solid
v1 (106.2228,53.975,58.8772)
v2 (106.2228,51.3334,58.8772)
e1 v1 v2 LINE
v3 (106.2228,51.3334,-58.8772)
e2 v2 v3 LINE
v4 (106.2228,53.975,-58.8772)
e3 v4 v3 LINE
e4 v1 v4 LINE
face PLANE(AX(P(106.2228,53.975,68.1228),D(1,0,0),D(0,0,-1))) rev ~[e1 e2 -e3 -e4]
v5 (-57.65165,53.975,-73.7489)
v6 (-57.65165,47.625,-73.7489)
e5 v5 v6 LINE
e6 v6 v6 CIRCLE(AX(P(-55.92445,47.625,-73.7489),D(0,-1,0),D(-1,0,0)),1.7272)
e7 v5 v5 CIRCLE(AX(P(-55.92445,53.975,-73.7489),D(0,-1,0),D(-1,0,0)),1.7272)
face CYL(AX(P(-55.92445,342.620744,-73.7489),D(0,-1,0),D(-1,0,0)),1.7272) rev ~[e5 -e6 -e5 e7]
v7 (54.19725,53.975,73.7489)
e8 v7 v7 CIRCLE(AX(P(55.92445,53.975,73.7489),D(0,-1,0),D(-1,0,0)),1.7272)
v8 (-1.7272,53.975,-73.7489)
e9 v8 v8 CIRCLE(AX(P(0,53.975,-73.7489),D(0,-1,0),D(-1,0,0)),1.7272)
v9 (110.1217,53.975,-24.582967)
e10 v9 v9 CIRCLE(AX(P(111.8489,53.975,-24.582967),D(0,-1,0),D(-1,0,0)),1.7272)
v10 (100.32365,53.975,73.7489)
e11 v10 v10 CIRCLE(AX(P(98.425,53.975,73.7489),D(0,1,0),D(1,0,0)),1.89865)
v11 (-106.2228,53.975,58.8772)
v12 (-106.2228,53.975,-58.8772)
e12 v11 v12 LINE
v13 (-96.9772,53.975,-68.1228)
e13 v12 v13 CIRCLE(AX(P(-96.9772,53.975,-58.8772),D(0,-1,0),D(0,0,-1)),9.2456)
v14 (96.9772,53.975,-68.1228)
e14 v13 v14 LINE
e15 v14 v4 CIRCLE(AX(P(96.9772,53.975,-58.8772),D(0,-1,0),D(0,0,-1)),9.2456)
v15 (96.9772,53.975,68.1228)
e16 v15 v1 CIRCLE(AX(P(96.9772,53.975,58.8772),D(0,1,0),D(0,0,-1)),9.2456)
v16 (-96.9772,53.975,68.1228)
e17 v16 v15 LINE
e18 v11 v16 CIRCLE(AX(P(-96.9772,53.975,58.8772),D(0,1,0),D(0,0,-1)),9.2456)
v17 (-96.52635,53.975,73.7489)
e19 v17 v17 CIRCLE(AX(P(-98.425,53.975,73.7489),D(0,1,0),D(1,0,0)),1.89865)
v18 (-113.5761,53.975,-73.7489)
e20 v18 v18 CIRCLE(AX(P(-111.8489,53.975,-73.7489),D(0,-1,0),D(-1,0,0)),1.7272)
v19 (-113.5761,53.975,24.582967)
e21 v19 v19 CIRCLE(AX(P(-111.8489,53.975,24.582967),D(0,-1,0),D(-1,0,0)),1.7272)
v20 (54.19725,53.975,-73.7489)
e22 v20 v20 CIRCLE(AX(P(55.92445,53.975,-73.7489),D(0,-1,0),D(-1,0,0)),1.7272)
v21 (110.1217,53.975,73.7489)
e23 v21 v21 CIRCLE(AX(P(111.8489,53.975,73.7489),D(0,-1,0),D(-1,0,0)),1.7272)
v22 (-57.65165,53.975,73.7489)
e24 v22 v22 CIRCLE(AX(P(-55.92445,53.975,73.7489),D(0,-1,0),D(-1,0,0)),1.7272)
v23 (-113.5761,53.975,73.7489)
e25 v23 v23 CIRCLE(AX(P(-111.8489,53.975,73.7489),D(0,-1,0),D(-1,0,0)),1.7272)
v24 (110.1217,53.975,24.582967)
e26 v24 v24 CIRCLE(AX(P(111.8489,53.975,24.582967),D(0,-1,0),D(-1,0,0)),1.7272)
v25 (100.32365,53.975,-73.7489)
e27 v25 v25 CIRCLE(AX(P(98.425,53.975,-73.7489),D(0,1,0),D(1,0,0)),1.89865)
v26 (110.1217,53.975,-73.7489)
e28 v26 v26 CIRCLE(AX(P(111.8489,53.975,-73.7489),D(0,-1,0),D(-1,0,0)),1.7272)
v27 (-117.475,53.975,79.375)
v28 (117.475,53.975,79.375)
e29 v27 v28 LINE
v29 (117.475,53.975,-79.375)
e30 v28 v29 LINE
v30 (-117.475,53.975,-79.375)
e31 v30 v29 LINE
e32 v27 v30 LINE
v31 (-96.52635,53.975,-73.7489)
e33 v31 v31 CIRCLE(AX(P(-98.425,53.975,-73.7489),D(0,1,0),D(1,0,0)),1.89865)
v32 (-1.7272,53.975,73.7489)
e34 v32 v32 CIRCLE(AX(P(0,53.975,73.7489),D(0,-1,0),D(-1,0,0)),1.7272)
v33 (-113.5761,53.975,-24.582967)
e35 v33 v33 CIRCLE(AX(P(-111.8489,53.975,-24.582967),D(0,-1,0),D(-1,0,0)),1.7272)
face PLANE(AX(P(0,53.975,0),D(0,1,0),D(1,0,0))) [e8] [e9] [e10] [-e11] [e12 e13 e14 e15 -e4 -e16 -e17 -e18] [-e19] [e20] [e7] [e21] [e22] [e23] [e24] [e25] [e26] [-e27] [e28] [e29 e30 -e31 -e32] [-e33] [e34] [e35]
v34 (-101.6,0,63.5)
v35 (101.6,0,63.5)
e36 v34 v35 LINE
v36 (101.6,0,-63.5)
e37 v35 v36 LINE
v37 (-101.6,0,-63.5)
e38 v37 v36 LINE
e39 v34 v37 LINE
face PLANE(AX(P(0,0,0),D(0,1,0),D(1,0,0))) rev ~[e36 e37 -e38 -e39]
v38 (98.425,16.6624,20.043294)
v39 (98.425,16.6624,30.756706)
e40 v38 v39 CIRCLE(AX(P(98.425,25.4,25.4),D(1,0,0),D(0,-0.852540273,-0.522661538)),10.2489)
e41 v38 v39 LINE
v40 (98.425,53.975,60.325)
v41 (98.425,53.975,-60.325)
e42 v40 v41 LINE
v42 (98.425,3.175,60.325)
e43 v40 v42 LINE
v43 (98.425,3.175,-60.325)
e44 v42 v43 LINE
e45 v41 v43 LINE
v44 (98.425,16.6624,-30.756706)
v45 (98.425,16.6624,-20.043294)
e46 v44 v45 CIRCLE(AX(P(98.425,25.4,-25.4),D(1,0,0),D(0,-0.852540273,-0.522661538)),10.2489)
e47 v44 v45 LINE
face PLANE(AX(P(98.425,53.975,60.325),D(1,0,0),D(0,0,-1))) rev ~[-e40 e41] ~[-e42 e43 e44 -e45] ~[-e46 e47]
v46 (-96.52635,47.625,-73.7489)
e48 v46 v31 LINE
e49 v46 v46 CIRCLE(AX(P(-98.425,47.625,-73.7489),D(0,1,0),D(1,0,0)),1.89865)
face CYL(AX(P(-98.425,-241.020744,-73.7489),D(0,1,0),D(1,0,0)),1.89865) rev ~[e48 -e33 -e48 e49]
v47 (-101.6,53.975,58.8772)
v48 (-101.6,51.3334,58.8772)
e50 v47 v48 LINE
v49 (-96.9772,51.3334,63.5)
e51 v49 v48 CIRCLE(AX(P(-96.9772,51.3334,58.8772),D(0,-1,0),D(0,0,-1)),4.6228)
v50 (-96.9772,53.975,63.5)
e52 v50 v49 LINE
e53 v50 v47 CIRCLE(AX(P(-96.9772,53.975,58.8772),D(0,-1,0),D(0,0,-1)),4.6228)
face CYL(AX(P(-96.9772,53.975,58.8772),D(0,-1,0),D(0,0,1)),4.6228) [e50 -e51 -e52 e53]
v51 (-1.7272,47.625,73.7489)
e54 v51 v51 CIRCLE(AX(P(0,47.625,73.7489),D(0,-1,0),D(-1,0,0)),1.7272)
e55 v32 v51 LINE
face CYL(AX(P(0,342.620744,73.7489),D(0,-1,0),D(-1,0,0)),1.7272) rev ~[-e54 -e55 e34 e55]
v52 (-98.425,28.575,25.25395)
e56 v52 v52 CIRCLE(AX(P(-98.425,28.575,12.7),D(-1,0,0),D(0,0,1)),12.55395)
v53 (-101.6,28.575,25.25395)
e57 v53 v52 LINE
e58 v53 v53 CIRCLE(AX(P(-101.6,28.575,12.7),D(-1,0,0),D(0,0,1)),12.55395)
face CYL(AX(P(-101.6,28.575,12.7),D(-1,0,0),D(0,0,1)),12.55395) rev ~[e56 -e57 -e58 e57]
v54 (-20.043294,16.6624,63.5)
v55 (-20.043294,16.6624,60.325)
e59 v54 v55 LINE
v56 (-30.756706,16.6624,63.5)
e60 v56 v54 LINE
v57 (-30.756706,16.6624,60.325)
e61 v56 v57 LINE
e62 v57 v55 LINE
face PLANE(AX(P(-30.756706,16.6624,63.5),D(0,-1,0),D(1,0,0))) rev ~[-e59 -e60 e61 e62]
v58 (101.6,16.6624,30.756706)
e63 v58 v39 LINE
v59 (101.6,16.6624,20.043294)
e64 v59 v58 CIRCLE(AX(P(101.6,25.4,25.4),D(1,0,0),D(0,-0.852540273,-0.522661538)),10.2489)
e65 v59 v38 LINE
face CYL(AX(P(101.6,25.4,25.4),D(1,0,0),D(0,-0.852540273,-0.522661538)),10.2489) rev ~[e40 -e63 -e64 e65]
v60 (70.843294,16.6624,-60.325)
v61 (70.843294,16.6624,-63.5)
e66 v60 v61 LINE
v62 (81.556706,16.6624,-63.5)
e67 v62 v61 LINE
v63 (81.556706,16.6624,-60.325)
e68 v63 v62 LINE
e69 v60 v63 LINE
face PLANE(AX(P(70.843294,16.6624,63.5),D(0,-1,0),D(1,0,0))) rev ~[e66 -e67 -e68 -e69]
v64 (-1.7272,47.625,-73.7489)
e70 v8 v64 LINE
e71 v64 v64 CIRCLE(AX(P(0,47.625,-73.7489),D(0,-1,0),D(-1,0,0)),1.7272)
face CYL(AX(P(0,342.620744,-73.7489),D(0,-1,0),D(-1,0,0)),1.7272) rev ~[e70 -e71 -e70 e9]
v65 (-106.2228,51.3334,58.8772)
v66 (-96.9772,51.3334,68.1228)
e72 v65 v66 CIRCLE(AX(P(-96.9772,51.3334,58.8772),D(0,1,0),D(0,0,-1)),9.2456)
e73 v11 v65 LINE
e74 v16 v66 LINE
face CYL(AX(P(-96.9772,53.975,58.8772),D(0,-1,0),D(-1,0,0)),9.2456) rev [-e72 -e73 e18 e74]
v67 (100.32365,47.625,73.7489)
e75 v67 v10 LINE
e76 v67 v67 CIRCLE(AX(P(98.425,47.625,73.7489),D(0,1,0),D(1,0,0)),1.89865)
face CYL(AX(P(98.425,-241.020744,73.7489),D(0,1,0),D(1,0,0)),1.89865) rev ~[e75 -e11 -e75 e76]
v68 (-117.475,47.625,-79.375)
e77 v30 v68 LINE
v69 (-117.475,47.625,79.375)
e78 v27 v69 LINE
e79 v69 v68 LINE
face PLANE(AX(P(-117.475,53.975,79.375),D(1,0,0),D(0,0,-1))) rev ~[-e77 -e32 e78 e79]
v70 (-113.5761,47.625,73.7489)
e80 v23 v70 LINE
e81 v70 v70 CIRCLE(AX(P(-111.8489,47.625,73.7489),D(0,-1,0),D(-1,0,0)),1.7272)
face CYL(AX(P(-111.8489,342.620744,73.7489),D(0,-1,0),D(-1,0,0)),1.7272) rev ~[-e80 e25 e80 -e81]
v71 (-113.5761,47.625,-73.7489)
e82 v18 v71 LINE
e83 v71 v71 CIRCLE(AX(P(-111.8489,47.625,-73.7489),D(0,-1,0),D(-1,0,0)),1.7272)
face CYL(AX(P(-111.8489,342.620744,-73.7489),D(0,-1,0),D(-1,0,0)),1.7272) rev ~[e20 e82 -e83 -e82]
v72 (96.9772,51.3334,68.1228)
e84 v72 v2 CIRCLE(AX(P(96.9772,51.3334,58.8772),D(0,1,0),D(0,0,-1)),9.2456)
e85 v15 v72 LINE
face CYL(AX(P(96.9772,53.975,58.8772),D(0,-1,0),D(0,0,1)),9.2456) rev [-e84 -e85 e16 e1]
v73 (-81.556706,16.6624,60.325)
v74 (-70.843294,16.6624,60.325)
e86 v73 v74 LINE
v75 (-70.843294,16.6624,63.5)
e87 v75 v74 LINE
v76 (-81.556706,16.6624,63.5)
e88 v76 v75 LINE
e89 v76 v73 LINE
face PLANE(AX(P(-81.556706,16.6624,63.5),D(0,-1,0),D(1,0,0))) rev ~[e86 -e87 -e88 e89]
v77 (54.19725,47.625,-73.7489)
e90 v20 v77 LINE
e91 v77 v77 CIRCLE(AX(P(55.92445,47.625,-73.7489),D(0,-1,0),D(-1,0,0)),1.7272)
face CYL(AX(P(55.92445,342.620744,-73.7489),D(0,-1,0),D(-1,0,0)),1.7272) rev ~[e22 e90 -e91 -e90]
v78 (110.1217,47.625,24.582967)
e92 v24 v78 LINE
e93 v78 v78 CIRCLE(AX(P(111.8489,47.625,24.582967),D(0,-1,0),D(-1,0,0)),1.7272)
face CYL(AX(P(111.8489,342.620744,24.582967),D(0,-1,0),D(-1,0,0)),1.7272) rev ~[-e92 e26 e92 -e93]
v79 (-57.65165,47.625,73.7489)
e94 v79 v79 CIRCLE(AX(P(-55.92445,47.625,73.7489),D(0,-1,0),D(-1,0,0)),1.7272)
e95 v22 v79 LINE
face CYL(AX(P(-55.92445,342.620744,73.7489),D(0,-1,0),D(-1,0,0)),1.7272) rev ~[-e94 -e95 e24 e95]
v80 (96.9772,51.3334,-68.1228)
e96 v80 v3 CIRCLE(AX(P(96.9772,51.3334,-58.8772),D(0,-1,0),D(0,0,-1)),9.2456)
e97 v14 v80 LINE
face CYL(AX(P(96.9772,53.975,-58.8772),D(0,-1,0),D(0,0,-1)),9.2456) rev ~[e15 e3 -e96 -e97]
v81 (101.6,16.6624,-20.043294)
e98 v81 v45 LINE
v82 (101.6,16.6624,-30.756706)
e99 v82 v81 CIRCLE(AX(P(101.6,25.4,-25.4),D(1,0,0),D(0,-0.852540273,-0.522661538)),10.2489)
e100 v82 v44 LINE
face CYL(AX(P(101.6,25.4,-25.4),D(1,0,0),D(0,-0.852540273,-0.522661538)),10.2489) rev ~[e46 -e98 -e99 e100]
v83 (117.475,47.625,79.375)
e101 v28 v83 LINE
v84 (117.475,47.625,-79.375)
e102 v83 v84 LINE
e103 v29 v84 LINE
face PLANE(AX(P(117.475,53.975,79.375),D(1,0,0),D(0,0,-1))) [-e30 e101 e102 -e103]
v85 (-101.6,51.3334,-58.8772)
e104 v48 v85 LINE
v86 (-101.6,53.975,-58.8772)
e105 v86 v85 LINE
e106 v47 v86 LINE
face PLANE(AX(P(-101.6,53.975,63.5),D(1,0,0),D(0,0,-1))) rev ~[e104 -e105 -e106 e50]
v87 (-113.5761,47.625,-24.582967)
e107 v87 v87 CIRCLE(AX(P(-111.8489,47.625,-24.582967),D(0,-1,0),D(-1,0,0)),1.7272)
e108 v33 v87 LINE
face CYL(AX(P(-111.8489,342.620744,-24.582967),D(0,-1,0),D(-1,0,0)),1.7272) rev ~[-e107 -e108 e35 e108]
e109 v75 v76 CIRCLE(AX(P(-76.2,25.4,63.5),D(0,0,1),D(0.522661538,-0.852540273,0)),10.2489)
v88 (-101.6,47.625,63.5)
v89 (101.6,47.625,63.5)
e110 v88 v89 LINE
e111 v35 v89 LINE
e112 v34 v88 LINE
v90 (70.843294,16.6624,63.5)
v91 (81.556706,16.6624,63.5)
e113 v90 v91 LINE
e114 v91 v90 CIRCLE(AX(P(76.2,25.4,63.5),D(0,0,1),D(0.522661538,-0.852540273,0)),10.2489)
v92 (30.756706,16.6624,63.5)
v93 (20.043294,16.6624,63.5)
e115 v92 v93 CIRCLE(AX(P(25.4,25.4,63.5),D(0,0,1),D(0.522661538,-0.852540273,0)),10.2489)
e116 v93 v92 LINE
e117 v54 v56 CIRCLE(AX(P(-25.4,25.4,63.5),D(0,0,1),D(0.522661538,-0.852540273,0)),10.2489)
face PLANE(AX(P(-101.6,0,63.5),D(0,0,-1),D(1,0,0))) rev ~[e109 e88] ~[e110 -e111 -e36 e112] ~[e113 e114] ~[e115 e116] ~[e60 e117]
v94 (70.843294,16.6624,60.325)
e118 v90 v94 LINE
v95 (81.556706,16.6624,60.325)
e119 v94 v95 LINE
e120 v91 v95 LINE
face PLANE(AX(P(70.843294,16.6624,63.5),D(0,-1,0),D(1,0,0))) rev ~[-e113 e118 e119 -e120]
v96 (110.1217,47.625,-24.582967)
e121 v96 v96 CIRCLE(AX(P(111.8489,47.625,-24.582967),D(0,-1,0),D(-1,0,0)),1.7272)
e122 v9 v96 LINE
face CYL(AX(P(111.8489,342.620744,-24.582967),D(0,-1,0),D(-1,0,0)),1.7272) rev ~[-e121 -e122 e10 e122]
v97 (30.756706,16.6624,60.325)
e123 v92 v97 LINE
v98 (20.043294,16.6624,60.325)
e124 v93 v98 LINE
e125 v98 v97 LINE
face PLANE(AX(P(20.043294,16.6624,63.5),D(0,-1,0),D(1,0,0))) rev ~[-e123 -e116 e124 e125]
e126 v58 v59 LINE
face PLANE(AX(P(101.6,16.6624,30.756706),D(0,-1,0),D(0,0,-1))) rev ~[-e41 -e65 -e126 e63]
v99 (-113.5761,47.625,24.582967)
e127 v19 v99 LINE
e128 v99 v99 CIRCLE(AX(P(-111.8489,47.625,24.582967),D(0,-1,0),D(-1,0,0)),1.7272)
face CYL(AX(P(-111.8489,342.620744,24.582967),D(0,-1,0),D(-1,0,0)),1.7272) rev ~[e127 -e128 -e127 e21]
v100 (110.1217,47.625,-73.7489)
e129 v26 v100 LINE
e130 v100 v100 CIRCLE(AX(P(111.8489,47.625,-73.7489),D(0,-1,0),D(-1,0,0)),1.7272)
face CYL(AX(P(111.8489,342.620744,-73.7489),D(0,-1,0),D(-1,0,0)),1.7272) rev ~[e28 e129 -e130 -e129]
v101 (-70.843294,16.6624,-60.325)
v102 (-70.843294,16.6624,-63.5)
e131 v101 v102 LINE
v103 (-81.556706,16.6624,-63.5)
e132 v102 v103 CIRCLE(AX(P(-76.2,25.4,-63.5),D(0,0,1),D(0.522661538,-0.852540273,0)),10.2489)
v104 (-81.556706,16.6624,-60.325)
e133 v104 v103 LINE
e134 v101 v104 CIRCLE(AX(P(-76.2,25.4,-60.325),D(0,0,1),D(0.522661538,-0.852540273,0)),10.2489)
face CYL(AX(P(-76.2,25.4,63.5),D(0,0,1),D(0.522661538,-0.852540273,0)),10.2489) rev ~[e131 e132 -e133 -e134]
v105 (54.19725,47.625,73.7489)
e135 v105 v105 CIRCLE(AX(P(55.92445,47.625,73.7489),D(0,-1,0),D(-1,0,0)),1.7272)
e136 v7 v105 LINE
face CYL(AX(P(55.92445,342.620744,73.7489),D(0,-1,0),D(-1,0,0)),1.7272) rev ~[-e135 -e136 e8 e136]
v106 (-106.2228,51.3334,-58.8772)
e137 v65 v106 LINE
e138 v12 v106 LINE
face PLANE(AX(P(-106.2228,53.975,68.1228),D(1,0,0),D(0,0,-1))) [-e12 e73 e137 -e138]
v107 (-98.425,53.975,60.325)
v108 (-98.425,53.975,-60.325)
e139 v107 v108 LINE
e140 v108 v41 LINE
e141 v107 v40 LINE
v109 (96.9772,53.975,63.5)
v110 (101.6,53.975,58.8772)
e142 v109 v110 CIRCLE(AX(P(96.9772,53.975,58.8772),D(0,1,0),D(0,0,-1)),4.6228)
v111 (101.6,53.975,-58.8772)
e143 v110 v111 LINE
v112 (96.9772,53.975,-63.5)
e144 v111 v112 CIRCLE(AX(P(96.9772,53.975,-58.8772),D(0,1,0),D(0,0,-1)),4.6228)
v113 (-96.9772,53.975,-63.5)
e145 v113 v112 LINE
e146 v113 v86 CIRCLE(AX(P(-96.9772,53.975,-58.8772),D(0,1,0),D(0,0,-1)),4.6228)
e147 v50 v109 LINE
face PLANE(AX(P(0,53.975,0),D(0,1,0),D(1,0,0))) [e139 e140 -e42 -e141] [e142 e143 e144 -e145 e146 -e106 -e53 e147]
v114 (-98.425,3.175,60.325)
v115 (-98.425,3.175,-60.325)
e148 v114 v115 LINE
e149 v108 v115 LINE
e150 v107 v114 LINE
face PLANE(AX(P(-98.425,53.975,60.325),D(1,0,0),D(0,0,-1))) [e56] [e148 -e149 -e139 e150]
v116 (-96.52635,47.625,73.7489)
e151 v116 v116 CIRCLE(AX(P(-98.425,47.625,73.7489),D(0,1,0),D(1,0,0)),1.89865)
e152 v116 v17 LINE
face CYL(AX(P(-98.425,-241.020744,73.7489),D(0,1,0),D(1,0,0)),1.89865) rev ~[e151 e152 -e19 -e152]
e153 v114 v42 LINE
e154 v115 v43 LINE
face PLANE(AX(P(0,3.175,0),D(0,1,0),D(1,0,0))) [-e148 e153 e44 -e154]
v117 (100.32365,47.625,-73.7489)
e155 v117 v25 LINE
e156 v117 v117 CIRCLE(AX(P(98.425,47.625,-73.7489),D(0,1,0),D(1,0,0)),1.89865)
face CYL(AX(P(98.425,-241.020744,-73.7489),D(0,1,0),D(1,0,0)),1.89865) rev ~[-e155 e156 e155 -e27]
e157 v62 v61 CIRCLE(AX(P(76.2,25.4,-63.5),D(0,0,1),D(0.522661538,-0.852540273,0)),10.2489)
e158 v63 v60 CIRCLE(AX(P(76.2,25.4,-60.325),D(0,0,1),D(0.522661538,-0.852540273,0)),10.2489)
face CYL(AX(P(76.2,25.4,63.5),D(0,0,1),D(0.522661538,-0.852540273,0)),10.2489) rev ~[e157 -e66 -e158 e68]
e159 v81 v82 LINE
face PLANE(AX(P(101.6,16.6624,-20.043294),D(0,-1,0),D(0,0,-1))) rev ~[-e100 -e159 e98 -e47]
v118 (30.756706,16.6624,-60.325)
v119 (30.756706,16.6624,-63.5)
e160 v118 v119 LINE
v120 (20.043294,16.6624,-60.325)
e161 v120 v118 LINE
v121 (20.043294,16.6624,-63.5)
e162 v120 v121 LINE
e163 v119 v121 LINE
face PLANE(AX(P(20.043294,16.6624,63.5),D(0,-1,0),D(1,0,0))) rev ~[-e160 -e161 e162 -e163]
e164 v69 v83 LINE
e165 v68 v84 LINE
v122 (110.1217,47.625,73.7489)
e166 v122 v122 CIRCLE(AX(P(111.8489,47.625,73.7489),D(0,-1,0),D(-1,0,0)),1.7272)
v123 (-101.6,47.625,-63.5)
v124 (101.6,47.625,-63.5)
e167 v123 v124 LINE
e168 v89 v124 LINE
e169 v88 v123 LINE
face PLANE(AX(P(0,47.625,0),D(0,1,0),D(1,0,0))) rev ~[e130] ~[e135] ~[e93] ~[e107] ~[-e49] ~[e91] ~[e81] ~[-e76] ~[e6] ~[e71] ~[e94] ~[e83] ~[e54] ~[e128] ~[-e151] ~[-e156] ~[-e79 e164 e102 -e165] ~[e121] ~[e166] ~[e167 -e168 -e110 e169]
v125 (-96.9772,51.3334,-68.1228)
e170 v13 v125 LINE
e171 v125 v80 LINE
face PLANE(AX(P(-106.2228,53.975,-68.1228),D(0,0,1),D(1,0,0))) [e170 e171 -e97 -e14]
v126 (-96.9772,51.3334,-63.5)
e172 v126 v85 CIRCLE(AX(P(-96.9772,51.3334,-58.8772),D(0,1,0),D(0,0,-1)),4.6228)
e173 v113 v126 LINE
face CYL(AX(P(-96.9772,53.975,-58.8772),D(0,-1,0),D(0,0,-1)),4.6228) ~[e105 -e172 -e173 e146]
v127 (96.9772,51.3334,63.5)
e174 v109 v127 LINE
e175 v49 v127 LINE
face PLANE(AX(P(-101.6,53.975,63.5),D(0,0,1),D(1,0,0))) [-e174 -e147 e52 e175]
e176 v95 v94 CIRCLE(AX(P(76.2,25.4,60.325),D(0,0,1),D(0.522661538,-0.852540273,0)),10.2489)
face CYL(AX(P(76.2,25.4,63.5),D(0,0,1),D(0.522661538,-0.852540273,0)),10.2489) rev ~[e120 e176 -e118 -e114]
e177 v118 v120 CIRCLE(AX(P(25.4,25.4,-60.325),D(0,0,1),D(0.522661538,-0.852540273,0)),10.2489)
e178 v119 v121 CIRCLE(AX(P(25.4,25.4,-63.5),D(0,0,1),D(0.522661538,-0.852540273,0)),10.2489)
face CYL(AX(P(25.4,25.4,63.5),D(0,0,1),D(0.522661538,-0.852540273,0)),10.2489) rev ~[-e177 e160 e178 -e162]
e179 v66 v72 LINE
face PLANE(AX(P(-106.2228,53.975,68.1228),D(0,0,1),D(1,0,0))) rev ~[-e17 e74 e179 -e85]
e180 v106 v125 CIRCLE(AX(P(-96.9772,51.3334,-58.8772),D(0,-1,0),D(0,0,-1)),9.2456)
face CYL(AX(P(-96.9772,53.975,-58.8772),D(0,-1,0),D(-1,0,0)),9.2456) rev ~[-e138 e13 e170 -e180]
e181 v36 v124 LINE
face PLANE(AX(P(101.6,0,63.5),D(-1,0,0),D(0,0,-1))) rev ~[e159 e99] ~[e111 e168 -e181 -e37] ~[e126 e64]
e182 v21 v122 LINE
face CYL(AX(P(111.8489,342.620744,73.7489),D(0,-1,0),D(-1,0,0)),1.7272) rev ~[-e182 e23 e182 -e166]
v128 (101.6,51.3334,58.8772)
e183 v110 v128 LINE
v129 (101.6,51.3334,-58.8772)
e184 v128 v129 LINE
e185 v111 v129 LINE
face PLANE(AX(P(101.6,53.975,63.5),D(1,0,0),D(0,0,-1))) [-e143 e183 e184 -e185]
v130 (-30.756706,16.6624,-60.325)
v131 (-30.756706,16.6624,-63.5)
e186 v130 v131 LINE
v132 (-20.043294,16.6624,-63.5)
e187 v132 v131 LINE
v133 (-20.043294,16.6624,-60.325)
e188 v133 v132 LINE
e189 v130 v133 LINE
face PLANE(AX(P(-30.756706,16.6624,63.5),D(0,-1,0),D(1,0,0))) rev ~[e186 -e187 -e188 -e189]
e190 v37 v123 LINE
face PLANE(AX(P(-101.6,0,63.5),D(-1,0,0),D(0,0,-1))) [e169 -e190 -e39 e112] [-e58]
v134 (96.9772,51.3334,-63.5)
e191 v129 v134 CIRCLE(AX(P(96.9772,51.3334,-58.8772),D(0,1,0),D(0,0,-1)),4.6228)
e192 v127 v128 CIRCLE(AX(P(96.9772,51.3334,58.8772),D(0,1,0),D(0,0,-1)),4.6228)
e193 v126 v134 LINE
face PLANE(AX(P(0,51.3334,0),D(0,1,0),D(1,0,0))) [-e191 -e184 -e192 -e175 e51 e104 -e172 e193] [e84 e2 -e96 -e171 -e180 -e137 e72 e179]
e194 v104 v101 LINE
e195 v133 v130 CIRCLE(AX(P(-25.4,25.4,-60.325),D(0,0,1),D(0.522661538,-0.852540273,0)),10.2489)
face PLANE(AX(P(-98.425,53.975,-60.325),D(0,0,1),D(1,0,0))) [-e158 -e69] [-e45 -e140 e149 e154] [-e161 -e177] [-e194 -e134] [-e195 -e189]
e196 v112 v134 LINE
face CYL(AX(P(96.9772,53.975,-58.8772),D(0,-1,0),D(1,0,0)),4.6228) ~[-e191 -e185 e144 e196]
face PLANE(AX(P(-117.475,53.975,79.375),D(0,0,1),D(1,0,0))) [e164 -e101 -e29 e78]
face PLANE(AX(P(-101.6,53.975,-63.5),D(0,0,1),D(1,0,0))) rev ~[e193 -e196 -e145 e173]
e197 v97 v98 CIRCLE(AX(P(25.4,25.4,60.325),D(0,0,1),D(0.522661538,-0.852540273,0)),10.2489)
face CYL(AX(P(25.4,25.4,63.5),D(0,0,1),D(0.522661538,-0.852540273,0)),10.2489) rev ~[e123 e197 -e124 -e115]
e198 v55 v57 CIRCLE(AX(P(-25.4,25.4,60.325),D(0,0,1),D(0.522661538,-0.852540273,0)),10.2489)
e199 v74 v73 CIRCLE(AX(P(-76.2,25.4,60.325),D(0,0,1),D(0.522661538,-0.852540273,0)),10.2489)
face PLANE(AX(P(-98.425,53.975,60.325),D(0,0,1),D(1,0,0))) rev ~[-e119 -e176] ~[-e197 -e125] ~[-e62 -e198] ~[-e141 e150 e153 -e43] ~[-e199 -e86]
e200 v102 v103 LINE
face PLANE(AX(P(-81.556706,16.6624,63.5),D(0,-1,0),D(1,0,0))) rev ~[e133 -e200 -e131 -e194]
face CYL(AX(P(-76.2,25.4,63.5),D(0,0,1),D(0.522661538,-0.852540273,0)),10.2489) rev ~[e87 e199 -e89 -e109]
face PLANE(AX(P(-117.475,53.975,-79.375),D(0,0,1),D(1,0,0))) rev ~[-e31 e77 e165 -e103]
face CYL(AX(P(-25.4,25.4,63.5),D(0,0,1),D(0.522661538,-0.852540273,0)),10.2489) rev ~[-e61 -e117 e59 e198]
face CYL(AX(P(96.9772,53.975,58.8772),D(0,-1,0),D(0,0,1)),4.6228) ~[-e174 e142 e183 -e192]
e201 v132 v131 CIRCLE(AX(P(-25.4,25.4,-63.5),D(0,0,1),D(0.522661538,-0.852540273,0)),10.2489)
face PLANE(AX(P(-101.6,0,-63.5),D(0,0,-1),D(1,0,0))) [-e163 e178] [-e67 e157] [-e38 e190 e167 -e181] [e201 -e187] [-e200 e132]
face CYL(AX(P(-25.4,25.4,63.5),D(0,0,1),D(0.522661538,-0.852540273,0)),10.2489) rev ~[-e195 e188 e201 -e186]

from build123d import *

# Parameters (mm, degrees)
SKETCH1_W             = 203.2
SKETCH1_H             = 127
BOSS_EXTRUDE1_DEPTH   = 53.975
SKETCH2_W             = 196.85
SKETCH2_H             = 120.65
CUT_EXTRUDE1_DEPTH    = 50.8
SKETCH4_W             = 234.95
SKETCH4_H             = 158.75
SKETCH4_W_2           = 203.2
SKETCH4_H_2           = 127
BOSS_EXTRUDE2_DEPTH   = 6.35
SKETCH7_W             = 212.4456
SKETCH7_H             = 136.2456
SKETCH7_W_2           = 203.2
SKETCH7_H_2           = 127
CUT_EXTRUDE2_DEPTH    = 2.6416
F_8_32_TAPPED_HOLE1_D = 3.4544
FILLET3_R             = 4.6228
FILLET4_R             = 9.2456
CUT_EXTRUDE5_DEPTH    = 143.875
CUT_EXTRUDE6_REACH    = 221.075
CUT_EXTRUDE7_REACH    = 221.075
SKETCH13_R            = 12.55395
F_6_CLEARANCE_HOLE1_D = 3.7973


with BuildPart() as part:
    # Sketch1 → Boss-Extrude1 (new body)
    with BuildSketch(Plane(origin=(0, 0, 0), x_dir=(1, 0, 0), z_dir=(0, 1, 0))):
        Rectangle(SKETCH1_W, SKETCH1_H)
    extrude(amount=BOSS_EXTRUDE1_DEPTH)

    # Sketch2 → Cut-Extrude1 (cut)
    with BuildSketch(Plane(origin=(0, 53.975, 0), x_dir=(1, 0, 0), z_dir=(0, 1, 0))):
        Rectangle(SKETCH2_W, SKETCH2_H)
    extrude(amount=-CUT_EXTRUDE1_DEPTH, mode=Mode.SUBTRACT)

    # Sketch4 → Boss-Extrude2 (add)
    with BuildSketch(Plane(origin=(0, 53.975, 0), x_dir=(1, 0, 0), z_dir=(0, 1, 0))):
        Rectangle(SKETCH4_W, SKETCH4_H)
        Rectangle(SKETCH4_W_2, SKETCH4_H_2, mode=Mode.SUBTRACT)
    extrude(amount=-BOSS_EXTRUDE2_DEPTH)

    # Sketch7 → Cut-Extrude2 (cut)
    with BuildSketch(Plane(origin=(0, 53.975, 0), x_dir=(1, 0, 0), z_dir=(0, 1, 0))):
        Rectangle(SKETCH7_W, SKETCH7_H)
        Rectangle(SKETCH7_W_2, SKETCH7_H_2, mode=Mode.SUBTRACT)
    extrude(amount=-CUT_EXTRUDE2_DEPTH, mode=Mode.SUBTRACT)

    # #8-32 Tapped Hole1 (through all)
    with Locations(Plane(origin=(0, 53.975, 0), x_dir=(1, 0, 0), z_dir=(0, 1, 0))):
        with Locations((55.92445, 73.7489), (111.8489, 73.7489), (111.8489, 24.582966667), (0, 73.7489), (111.8489, -24.582966667), (111.8489, -73.7489), (55.92445, -73.7489), (0, -73.7489), (-55.92445, -73.7489), (-111.8489, -73.7489), (-111.8489, -24.582966667), (-111.8489, 24.582966667), (-111.8489, 73.7489), (-55.92445, 73.7489)):
            Hole(F_8_32_TAPPED_HOLE1_D / 2)

    # Fillet3
    fillet3_edges = [part.edges().sort_by_distance(p)[0] for p in [
        (-101.6, 52.6542, -63.5),
        (101.6, 52.6542, -63.5),
        (101.6, 52.6542, 63.5),
        (-101.6, 52.6542, 63.5),
    ]]
    fillet(fillet3_edges, radius=FILLET3_R)

    # Fillet4
    fillet4_edges = [part.edges().sort_by_distance(p)[0] for p in [
        (-106.2228, 52.6542, -68.1228),
        (106.2228, 52.6542, -68.1228),
        (106.2228, 52.6542, 68.1228),
        (-106.2228, 52.6542, 68.1228),
    ]]
    fillet(fillet4_edges, radius=FILLET4_R)

    # Sketch10 → Cut-Extrude5 (cut, through all)
    with BuildSketch(Plane.XY.offset(63.5)):
        with BuildLine():
            ThreePointArc((-70.843294161, 16.6624), (-76.2, 35.6489), (-81.556705839, 16.6624))
            Line((-81.556705839, 16.6624), (-70.843294161, 16.6624))
        make_face()
        with BuildLine():
            ThreePointArc((81.556705839, 16.6624), (76.2, 35.6489), (70.843294161, 16.6624))
            Line((70.843294161, 16.6624), (81.556705839, 16.6624))
        make_face()
        with BuildLine():
            ThreePointArc((30.756705839, 16.6624), (25.4, 35.6489), (20.043294161, 16.6624))
            Line((20.043294161, 16.6624), (30.756705839, 16.6624))
        make_face()
        with BuildLine():
            ThreePointArc((-20.043294161, 16.6624), (-25.4, 35.6489), (-30.756705839, 16.6624))
            Line((-30.756705839, 16.6624), (-20.043294161, 16.6624))
        make_face()
    extrude(amount=-CUT_EXTRUDE5_DEPTH, mode=Mode.SUBTRACT)

    # Sketch12 → Cut-Extrude6 (cut, up to next)
    with BuildSketch(Plane(origin=(101.6, 0, 0), x_dir=(0, 0, -1), z_dir=(1, 0, 0)), mode=Mode.PRIVATE) as cut_extrude6_sk1:
        with BuildLine():
            ThreePointArc((-20.043294161, 16.6624), (-25.4, 35.6489), (-30.756705839, 16.6624))
            Line((-30.756705839, 16.6624), (-20.043294161, 16.6624))
        make_face()
    cut_extrude6_tool1 = extrude(cut_extrude6_sk1.sketch, amount=-CUT_EXTRUDE6_REACH, mode=Mode.PRIVATE) & part.part
    add(cut_extrude6_tool1.solids().sort_by_distance((101.6, 25.721198, 25.4))[0], mode=Mode.SUBTRACT)
    # Sketch12 → Cut-Extrude6 (cut, up to next)
    with BuildSketch(Plane(origin=(101.6, 0, 0), x_dir=(0, 0, -1), z_dir=(1, 0, 0)), mode=Mode.PRIVATE) as cut_extrude6_sk2:
        with BuildLine():
            ThreePointArc((30.756705839, 16.6624), (25.4, 35.6489), (20.043294161, 16.6624))
            Line((20.043294161, 16.6624), (30.756705839, 16.6624))
        make_face()
    cut_extrude6_tool2 = extrude(cut_extrude6_sk2.sketch, amount=-CUT_EXTRUDE6_REACH, mode=Mode.PRIVATE) & part.part
    add(cut_extrude6_tool2.solids().sort_by_distance((101.6, 25.721198, -25.4))[0], mode=Mode.SUBTRACT)

    # Sketch13 → Cut-Extrude7 (cut, up to next)
    with BuildSketch(Plane.ZY.offset(101.6), mode=Mode.PRIVATE) as cut_extrude7_sk1:
        with Locations((12.7, 28.575)):
            Circle(SKETCH13_R)
    cut_extrude7_tool1 = extrude(cut_extrude7_sk1.sketch, amount=-CUT_EXTRUDE7_REACH, mode=Mode.PRIVATE) & part.part
    add(cut_extrude7_tool1.solids().sort_by_distance((-101.6, 28.575, 12.7))[0], mode=Mode.SUBTRACT)

    # #6 Clearance Hole1 (through all)
    with Locations(Plane(origin=(0, 47.625, 0), x_dir=(-1, 0, 0), z_dir=(0, -1, 0))):
        with Locations((-98.425, 73.7489), (-98.425, -73.7489), (98.425, -73.7489), (98.425, 73.7489)):
            Hole(F_6_CLEARANCE_HOLE1_D / 2)


solid = part.part
